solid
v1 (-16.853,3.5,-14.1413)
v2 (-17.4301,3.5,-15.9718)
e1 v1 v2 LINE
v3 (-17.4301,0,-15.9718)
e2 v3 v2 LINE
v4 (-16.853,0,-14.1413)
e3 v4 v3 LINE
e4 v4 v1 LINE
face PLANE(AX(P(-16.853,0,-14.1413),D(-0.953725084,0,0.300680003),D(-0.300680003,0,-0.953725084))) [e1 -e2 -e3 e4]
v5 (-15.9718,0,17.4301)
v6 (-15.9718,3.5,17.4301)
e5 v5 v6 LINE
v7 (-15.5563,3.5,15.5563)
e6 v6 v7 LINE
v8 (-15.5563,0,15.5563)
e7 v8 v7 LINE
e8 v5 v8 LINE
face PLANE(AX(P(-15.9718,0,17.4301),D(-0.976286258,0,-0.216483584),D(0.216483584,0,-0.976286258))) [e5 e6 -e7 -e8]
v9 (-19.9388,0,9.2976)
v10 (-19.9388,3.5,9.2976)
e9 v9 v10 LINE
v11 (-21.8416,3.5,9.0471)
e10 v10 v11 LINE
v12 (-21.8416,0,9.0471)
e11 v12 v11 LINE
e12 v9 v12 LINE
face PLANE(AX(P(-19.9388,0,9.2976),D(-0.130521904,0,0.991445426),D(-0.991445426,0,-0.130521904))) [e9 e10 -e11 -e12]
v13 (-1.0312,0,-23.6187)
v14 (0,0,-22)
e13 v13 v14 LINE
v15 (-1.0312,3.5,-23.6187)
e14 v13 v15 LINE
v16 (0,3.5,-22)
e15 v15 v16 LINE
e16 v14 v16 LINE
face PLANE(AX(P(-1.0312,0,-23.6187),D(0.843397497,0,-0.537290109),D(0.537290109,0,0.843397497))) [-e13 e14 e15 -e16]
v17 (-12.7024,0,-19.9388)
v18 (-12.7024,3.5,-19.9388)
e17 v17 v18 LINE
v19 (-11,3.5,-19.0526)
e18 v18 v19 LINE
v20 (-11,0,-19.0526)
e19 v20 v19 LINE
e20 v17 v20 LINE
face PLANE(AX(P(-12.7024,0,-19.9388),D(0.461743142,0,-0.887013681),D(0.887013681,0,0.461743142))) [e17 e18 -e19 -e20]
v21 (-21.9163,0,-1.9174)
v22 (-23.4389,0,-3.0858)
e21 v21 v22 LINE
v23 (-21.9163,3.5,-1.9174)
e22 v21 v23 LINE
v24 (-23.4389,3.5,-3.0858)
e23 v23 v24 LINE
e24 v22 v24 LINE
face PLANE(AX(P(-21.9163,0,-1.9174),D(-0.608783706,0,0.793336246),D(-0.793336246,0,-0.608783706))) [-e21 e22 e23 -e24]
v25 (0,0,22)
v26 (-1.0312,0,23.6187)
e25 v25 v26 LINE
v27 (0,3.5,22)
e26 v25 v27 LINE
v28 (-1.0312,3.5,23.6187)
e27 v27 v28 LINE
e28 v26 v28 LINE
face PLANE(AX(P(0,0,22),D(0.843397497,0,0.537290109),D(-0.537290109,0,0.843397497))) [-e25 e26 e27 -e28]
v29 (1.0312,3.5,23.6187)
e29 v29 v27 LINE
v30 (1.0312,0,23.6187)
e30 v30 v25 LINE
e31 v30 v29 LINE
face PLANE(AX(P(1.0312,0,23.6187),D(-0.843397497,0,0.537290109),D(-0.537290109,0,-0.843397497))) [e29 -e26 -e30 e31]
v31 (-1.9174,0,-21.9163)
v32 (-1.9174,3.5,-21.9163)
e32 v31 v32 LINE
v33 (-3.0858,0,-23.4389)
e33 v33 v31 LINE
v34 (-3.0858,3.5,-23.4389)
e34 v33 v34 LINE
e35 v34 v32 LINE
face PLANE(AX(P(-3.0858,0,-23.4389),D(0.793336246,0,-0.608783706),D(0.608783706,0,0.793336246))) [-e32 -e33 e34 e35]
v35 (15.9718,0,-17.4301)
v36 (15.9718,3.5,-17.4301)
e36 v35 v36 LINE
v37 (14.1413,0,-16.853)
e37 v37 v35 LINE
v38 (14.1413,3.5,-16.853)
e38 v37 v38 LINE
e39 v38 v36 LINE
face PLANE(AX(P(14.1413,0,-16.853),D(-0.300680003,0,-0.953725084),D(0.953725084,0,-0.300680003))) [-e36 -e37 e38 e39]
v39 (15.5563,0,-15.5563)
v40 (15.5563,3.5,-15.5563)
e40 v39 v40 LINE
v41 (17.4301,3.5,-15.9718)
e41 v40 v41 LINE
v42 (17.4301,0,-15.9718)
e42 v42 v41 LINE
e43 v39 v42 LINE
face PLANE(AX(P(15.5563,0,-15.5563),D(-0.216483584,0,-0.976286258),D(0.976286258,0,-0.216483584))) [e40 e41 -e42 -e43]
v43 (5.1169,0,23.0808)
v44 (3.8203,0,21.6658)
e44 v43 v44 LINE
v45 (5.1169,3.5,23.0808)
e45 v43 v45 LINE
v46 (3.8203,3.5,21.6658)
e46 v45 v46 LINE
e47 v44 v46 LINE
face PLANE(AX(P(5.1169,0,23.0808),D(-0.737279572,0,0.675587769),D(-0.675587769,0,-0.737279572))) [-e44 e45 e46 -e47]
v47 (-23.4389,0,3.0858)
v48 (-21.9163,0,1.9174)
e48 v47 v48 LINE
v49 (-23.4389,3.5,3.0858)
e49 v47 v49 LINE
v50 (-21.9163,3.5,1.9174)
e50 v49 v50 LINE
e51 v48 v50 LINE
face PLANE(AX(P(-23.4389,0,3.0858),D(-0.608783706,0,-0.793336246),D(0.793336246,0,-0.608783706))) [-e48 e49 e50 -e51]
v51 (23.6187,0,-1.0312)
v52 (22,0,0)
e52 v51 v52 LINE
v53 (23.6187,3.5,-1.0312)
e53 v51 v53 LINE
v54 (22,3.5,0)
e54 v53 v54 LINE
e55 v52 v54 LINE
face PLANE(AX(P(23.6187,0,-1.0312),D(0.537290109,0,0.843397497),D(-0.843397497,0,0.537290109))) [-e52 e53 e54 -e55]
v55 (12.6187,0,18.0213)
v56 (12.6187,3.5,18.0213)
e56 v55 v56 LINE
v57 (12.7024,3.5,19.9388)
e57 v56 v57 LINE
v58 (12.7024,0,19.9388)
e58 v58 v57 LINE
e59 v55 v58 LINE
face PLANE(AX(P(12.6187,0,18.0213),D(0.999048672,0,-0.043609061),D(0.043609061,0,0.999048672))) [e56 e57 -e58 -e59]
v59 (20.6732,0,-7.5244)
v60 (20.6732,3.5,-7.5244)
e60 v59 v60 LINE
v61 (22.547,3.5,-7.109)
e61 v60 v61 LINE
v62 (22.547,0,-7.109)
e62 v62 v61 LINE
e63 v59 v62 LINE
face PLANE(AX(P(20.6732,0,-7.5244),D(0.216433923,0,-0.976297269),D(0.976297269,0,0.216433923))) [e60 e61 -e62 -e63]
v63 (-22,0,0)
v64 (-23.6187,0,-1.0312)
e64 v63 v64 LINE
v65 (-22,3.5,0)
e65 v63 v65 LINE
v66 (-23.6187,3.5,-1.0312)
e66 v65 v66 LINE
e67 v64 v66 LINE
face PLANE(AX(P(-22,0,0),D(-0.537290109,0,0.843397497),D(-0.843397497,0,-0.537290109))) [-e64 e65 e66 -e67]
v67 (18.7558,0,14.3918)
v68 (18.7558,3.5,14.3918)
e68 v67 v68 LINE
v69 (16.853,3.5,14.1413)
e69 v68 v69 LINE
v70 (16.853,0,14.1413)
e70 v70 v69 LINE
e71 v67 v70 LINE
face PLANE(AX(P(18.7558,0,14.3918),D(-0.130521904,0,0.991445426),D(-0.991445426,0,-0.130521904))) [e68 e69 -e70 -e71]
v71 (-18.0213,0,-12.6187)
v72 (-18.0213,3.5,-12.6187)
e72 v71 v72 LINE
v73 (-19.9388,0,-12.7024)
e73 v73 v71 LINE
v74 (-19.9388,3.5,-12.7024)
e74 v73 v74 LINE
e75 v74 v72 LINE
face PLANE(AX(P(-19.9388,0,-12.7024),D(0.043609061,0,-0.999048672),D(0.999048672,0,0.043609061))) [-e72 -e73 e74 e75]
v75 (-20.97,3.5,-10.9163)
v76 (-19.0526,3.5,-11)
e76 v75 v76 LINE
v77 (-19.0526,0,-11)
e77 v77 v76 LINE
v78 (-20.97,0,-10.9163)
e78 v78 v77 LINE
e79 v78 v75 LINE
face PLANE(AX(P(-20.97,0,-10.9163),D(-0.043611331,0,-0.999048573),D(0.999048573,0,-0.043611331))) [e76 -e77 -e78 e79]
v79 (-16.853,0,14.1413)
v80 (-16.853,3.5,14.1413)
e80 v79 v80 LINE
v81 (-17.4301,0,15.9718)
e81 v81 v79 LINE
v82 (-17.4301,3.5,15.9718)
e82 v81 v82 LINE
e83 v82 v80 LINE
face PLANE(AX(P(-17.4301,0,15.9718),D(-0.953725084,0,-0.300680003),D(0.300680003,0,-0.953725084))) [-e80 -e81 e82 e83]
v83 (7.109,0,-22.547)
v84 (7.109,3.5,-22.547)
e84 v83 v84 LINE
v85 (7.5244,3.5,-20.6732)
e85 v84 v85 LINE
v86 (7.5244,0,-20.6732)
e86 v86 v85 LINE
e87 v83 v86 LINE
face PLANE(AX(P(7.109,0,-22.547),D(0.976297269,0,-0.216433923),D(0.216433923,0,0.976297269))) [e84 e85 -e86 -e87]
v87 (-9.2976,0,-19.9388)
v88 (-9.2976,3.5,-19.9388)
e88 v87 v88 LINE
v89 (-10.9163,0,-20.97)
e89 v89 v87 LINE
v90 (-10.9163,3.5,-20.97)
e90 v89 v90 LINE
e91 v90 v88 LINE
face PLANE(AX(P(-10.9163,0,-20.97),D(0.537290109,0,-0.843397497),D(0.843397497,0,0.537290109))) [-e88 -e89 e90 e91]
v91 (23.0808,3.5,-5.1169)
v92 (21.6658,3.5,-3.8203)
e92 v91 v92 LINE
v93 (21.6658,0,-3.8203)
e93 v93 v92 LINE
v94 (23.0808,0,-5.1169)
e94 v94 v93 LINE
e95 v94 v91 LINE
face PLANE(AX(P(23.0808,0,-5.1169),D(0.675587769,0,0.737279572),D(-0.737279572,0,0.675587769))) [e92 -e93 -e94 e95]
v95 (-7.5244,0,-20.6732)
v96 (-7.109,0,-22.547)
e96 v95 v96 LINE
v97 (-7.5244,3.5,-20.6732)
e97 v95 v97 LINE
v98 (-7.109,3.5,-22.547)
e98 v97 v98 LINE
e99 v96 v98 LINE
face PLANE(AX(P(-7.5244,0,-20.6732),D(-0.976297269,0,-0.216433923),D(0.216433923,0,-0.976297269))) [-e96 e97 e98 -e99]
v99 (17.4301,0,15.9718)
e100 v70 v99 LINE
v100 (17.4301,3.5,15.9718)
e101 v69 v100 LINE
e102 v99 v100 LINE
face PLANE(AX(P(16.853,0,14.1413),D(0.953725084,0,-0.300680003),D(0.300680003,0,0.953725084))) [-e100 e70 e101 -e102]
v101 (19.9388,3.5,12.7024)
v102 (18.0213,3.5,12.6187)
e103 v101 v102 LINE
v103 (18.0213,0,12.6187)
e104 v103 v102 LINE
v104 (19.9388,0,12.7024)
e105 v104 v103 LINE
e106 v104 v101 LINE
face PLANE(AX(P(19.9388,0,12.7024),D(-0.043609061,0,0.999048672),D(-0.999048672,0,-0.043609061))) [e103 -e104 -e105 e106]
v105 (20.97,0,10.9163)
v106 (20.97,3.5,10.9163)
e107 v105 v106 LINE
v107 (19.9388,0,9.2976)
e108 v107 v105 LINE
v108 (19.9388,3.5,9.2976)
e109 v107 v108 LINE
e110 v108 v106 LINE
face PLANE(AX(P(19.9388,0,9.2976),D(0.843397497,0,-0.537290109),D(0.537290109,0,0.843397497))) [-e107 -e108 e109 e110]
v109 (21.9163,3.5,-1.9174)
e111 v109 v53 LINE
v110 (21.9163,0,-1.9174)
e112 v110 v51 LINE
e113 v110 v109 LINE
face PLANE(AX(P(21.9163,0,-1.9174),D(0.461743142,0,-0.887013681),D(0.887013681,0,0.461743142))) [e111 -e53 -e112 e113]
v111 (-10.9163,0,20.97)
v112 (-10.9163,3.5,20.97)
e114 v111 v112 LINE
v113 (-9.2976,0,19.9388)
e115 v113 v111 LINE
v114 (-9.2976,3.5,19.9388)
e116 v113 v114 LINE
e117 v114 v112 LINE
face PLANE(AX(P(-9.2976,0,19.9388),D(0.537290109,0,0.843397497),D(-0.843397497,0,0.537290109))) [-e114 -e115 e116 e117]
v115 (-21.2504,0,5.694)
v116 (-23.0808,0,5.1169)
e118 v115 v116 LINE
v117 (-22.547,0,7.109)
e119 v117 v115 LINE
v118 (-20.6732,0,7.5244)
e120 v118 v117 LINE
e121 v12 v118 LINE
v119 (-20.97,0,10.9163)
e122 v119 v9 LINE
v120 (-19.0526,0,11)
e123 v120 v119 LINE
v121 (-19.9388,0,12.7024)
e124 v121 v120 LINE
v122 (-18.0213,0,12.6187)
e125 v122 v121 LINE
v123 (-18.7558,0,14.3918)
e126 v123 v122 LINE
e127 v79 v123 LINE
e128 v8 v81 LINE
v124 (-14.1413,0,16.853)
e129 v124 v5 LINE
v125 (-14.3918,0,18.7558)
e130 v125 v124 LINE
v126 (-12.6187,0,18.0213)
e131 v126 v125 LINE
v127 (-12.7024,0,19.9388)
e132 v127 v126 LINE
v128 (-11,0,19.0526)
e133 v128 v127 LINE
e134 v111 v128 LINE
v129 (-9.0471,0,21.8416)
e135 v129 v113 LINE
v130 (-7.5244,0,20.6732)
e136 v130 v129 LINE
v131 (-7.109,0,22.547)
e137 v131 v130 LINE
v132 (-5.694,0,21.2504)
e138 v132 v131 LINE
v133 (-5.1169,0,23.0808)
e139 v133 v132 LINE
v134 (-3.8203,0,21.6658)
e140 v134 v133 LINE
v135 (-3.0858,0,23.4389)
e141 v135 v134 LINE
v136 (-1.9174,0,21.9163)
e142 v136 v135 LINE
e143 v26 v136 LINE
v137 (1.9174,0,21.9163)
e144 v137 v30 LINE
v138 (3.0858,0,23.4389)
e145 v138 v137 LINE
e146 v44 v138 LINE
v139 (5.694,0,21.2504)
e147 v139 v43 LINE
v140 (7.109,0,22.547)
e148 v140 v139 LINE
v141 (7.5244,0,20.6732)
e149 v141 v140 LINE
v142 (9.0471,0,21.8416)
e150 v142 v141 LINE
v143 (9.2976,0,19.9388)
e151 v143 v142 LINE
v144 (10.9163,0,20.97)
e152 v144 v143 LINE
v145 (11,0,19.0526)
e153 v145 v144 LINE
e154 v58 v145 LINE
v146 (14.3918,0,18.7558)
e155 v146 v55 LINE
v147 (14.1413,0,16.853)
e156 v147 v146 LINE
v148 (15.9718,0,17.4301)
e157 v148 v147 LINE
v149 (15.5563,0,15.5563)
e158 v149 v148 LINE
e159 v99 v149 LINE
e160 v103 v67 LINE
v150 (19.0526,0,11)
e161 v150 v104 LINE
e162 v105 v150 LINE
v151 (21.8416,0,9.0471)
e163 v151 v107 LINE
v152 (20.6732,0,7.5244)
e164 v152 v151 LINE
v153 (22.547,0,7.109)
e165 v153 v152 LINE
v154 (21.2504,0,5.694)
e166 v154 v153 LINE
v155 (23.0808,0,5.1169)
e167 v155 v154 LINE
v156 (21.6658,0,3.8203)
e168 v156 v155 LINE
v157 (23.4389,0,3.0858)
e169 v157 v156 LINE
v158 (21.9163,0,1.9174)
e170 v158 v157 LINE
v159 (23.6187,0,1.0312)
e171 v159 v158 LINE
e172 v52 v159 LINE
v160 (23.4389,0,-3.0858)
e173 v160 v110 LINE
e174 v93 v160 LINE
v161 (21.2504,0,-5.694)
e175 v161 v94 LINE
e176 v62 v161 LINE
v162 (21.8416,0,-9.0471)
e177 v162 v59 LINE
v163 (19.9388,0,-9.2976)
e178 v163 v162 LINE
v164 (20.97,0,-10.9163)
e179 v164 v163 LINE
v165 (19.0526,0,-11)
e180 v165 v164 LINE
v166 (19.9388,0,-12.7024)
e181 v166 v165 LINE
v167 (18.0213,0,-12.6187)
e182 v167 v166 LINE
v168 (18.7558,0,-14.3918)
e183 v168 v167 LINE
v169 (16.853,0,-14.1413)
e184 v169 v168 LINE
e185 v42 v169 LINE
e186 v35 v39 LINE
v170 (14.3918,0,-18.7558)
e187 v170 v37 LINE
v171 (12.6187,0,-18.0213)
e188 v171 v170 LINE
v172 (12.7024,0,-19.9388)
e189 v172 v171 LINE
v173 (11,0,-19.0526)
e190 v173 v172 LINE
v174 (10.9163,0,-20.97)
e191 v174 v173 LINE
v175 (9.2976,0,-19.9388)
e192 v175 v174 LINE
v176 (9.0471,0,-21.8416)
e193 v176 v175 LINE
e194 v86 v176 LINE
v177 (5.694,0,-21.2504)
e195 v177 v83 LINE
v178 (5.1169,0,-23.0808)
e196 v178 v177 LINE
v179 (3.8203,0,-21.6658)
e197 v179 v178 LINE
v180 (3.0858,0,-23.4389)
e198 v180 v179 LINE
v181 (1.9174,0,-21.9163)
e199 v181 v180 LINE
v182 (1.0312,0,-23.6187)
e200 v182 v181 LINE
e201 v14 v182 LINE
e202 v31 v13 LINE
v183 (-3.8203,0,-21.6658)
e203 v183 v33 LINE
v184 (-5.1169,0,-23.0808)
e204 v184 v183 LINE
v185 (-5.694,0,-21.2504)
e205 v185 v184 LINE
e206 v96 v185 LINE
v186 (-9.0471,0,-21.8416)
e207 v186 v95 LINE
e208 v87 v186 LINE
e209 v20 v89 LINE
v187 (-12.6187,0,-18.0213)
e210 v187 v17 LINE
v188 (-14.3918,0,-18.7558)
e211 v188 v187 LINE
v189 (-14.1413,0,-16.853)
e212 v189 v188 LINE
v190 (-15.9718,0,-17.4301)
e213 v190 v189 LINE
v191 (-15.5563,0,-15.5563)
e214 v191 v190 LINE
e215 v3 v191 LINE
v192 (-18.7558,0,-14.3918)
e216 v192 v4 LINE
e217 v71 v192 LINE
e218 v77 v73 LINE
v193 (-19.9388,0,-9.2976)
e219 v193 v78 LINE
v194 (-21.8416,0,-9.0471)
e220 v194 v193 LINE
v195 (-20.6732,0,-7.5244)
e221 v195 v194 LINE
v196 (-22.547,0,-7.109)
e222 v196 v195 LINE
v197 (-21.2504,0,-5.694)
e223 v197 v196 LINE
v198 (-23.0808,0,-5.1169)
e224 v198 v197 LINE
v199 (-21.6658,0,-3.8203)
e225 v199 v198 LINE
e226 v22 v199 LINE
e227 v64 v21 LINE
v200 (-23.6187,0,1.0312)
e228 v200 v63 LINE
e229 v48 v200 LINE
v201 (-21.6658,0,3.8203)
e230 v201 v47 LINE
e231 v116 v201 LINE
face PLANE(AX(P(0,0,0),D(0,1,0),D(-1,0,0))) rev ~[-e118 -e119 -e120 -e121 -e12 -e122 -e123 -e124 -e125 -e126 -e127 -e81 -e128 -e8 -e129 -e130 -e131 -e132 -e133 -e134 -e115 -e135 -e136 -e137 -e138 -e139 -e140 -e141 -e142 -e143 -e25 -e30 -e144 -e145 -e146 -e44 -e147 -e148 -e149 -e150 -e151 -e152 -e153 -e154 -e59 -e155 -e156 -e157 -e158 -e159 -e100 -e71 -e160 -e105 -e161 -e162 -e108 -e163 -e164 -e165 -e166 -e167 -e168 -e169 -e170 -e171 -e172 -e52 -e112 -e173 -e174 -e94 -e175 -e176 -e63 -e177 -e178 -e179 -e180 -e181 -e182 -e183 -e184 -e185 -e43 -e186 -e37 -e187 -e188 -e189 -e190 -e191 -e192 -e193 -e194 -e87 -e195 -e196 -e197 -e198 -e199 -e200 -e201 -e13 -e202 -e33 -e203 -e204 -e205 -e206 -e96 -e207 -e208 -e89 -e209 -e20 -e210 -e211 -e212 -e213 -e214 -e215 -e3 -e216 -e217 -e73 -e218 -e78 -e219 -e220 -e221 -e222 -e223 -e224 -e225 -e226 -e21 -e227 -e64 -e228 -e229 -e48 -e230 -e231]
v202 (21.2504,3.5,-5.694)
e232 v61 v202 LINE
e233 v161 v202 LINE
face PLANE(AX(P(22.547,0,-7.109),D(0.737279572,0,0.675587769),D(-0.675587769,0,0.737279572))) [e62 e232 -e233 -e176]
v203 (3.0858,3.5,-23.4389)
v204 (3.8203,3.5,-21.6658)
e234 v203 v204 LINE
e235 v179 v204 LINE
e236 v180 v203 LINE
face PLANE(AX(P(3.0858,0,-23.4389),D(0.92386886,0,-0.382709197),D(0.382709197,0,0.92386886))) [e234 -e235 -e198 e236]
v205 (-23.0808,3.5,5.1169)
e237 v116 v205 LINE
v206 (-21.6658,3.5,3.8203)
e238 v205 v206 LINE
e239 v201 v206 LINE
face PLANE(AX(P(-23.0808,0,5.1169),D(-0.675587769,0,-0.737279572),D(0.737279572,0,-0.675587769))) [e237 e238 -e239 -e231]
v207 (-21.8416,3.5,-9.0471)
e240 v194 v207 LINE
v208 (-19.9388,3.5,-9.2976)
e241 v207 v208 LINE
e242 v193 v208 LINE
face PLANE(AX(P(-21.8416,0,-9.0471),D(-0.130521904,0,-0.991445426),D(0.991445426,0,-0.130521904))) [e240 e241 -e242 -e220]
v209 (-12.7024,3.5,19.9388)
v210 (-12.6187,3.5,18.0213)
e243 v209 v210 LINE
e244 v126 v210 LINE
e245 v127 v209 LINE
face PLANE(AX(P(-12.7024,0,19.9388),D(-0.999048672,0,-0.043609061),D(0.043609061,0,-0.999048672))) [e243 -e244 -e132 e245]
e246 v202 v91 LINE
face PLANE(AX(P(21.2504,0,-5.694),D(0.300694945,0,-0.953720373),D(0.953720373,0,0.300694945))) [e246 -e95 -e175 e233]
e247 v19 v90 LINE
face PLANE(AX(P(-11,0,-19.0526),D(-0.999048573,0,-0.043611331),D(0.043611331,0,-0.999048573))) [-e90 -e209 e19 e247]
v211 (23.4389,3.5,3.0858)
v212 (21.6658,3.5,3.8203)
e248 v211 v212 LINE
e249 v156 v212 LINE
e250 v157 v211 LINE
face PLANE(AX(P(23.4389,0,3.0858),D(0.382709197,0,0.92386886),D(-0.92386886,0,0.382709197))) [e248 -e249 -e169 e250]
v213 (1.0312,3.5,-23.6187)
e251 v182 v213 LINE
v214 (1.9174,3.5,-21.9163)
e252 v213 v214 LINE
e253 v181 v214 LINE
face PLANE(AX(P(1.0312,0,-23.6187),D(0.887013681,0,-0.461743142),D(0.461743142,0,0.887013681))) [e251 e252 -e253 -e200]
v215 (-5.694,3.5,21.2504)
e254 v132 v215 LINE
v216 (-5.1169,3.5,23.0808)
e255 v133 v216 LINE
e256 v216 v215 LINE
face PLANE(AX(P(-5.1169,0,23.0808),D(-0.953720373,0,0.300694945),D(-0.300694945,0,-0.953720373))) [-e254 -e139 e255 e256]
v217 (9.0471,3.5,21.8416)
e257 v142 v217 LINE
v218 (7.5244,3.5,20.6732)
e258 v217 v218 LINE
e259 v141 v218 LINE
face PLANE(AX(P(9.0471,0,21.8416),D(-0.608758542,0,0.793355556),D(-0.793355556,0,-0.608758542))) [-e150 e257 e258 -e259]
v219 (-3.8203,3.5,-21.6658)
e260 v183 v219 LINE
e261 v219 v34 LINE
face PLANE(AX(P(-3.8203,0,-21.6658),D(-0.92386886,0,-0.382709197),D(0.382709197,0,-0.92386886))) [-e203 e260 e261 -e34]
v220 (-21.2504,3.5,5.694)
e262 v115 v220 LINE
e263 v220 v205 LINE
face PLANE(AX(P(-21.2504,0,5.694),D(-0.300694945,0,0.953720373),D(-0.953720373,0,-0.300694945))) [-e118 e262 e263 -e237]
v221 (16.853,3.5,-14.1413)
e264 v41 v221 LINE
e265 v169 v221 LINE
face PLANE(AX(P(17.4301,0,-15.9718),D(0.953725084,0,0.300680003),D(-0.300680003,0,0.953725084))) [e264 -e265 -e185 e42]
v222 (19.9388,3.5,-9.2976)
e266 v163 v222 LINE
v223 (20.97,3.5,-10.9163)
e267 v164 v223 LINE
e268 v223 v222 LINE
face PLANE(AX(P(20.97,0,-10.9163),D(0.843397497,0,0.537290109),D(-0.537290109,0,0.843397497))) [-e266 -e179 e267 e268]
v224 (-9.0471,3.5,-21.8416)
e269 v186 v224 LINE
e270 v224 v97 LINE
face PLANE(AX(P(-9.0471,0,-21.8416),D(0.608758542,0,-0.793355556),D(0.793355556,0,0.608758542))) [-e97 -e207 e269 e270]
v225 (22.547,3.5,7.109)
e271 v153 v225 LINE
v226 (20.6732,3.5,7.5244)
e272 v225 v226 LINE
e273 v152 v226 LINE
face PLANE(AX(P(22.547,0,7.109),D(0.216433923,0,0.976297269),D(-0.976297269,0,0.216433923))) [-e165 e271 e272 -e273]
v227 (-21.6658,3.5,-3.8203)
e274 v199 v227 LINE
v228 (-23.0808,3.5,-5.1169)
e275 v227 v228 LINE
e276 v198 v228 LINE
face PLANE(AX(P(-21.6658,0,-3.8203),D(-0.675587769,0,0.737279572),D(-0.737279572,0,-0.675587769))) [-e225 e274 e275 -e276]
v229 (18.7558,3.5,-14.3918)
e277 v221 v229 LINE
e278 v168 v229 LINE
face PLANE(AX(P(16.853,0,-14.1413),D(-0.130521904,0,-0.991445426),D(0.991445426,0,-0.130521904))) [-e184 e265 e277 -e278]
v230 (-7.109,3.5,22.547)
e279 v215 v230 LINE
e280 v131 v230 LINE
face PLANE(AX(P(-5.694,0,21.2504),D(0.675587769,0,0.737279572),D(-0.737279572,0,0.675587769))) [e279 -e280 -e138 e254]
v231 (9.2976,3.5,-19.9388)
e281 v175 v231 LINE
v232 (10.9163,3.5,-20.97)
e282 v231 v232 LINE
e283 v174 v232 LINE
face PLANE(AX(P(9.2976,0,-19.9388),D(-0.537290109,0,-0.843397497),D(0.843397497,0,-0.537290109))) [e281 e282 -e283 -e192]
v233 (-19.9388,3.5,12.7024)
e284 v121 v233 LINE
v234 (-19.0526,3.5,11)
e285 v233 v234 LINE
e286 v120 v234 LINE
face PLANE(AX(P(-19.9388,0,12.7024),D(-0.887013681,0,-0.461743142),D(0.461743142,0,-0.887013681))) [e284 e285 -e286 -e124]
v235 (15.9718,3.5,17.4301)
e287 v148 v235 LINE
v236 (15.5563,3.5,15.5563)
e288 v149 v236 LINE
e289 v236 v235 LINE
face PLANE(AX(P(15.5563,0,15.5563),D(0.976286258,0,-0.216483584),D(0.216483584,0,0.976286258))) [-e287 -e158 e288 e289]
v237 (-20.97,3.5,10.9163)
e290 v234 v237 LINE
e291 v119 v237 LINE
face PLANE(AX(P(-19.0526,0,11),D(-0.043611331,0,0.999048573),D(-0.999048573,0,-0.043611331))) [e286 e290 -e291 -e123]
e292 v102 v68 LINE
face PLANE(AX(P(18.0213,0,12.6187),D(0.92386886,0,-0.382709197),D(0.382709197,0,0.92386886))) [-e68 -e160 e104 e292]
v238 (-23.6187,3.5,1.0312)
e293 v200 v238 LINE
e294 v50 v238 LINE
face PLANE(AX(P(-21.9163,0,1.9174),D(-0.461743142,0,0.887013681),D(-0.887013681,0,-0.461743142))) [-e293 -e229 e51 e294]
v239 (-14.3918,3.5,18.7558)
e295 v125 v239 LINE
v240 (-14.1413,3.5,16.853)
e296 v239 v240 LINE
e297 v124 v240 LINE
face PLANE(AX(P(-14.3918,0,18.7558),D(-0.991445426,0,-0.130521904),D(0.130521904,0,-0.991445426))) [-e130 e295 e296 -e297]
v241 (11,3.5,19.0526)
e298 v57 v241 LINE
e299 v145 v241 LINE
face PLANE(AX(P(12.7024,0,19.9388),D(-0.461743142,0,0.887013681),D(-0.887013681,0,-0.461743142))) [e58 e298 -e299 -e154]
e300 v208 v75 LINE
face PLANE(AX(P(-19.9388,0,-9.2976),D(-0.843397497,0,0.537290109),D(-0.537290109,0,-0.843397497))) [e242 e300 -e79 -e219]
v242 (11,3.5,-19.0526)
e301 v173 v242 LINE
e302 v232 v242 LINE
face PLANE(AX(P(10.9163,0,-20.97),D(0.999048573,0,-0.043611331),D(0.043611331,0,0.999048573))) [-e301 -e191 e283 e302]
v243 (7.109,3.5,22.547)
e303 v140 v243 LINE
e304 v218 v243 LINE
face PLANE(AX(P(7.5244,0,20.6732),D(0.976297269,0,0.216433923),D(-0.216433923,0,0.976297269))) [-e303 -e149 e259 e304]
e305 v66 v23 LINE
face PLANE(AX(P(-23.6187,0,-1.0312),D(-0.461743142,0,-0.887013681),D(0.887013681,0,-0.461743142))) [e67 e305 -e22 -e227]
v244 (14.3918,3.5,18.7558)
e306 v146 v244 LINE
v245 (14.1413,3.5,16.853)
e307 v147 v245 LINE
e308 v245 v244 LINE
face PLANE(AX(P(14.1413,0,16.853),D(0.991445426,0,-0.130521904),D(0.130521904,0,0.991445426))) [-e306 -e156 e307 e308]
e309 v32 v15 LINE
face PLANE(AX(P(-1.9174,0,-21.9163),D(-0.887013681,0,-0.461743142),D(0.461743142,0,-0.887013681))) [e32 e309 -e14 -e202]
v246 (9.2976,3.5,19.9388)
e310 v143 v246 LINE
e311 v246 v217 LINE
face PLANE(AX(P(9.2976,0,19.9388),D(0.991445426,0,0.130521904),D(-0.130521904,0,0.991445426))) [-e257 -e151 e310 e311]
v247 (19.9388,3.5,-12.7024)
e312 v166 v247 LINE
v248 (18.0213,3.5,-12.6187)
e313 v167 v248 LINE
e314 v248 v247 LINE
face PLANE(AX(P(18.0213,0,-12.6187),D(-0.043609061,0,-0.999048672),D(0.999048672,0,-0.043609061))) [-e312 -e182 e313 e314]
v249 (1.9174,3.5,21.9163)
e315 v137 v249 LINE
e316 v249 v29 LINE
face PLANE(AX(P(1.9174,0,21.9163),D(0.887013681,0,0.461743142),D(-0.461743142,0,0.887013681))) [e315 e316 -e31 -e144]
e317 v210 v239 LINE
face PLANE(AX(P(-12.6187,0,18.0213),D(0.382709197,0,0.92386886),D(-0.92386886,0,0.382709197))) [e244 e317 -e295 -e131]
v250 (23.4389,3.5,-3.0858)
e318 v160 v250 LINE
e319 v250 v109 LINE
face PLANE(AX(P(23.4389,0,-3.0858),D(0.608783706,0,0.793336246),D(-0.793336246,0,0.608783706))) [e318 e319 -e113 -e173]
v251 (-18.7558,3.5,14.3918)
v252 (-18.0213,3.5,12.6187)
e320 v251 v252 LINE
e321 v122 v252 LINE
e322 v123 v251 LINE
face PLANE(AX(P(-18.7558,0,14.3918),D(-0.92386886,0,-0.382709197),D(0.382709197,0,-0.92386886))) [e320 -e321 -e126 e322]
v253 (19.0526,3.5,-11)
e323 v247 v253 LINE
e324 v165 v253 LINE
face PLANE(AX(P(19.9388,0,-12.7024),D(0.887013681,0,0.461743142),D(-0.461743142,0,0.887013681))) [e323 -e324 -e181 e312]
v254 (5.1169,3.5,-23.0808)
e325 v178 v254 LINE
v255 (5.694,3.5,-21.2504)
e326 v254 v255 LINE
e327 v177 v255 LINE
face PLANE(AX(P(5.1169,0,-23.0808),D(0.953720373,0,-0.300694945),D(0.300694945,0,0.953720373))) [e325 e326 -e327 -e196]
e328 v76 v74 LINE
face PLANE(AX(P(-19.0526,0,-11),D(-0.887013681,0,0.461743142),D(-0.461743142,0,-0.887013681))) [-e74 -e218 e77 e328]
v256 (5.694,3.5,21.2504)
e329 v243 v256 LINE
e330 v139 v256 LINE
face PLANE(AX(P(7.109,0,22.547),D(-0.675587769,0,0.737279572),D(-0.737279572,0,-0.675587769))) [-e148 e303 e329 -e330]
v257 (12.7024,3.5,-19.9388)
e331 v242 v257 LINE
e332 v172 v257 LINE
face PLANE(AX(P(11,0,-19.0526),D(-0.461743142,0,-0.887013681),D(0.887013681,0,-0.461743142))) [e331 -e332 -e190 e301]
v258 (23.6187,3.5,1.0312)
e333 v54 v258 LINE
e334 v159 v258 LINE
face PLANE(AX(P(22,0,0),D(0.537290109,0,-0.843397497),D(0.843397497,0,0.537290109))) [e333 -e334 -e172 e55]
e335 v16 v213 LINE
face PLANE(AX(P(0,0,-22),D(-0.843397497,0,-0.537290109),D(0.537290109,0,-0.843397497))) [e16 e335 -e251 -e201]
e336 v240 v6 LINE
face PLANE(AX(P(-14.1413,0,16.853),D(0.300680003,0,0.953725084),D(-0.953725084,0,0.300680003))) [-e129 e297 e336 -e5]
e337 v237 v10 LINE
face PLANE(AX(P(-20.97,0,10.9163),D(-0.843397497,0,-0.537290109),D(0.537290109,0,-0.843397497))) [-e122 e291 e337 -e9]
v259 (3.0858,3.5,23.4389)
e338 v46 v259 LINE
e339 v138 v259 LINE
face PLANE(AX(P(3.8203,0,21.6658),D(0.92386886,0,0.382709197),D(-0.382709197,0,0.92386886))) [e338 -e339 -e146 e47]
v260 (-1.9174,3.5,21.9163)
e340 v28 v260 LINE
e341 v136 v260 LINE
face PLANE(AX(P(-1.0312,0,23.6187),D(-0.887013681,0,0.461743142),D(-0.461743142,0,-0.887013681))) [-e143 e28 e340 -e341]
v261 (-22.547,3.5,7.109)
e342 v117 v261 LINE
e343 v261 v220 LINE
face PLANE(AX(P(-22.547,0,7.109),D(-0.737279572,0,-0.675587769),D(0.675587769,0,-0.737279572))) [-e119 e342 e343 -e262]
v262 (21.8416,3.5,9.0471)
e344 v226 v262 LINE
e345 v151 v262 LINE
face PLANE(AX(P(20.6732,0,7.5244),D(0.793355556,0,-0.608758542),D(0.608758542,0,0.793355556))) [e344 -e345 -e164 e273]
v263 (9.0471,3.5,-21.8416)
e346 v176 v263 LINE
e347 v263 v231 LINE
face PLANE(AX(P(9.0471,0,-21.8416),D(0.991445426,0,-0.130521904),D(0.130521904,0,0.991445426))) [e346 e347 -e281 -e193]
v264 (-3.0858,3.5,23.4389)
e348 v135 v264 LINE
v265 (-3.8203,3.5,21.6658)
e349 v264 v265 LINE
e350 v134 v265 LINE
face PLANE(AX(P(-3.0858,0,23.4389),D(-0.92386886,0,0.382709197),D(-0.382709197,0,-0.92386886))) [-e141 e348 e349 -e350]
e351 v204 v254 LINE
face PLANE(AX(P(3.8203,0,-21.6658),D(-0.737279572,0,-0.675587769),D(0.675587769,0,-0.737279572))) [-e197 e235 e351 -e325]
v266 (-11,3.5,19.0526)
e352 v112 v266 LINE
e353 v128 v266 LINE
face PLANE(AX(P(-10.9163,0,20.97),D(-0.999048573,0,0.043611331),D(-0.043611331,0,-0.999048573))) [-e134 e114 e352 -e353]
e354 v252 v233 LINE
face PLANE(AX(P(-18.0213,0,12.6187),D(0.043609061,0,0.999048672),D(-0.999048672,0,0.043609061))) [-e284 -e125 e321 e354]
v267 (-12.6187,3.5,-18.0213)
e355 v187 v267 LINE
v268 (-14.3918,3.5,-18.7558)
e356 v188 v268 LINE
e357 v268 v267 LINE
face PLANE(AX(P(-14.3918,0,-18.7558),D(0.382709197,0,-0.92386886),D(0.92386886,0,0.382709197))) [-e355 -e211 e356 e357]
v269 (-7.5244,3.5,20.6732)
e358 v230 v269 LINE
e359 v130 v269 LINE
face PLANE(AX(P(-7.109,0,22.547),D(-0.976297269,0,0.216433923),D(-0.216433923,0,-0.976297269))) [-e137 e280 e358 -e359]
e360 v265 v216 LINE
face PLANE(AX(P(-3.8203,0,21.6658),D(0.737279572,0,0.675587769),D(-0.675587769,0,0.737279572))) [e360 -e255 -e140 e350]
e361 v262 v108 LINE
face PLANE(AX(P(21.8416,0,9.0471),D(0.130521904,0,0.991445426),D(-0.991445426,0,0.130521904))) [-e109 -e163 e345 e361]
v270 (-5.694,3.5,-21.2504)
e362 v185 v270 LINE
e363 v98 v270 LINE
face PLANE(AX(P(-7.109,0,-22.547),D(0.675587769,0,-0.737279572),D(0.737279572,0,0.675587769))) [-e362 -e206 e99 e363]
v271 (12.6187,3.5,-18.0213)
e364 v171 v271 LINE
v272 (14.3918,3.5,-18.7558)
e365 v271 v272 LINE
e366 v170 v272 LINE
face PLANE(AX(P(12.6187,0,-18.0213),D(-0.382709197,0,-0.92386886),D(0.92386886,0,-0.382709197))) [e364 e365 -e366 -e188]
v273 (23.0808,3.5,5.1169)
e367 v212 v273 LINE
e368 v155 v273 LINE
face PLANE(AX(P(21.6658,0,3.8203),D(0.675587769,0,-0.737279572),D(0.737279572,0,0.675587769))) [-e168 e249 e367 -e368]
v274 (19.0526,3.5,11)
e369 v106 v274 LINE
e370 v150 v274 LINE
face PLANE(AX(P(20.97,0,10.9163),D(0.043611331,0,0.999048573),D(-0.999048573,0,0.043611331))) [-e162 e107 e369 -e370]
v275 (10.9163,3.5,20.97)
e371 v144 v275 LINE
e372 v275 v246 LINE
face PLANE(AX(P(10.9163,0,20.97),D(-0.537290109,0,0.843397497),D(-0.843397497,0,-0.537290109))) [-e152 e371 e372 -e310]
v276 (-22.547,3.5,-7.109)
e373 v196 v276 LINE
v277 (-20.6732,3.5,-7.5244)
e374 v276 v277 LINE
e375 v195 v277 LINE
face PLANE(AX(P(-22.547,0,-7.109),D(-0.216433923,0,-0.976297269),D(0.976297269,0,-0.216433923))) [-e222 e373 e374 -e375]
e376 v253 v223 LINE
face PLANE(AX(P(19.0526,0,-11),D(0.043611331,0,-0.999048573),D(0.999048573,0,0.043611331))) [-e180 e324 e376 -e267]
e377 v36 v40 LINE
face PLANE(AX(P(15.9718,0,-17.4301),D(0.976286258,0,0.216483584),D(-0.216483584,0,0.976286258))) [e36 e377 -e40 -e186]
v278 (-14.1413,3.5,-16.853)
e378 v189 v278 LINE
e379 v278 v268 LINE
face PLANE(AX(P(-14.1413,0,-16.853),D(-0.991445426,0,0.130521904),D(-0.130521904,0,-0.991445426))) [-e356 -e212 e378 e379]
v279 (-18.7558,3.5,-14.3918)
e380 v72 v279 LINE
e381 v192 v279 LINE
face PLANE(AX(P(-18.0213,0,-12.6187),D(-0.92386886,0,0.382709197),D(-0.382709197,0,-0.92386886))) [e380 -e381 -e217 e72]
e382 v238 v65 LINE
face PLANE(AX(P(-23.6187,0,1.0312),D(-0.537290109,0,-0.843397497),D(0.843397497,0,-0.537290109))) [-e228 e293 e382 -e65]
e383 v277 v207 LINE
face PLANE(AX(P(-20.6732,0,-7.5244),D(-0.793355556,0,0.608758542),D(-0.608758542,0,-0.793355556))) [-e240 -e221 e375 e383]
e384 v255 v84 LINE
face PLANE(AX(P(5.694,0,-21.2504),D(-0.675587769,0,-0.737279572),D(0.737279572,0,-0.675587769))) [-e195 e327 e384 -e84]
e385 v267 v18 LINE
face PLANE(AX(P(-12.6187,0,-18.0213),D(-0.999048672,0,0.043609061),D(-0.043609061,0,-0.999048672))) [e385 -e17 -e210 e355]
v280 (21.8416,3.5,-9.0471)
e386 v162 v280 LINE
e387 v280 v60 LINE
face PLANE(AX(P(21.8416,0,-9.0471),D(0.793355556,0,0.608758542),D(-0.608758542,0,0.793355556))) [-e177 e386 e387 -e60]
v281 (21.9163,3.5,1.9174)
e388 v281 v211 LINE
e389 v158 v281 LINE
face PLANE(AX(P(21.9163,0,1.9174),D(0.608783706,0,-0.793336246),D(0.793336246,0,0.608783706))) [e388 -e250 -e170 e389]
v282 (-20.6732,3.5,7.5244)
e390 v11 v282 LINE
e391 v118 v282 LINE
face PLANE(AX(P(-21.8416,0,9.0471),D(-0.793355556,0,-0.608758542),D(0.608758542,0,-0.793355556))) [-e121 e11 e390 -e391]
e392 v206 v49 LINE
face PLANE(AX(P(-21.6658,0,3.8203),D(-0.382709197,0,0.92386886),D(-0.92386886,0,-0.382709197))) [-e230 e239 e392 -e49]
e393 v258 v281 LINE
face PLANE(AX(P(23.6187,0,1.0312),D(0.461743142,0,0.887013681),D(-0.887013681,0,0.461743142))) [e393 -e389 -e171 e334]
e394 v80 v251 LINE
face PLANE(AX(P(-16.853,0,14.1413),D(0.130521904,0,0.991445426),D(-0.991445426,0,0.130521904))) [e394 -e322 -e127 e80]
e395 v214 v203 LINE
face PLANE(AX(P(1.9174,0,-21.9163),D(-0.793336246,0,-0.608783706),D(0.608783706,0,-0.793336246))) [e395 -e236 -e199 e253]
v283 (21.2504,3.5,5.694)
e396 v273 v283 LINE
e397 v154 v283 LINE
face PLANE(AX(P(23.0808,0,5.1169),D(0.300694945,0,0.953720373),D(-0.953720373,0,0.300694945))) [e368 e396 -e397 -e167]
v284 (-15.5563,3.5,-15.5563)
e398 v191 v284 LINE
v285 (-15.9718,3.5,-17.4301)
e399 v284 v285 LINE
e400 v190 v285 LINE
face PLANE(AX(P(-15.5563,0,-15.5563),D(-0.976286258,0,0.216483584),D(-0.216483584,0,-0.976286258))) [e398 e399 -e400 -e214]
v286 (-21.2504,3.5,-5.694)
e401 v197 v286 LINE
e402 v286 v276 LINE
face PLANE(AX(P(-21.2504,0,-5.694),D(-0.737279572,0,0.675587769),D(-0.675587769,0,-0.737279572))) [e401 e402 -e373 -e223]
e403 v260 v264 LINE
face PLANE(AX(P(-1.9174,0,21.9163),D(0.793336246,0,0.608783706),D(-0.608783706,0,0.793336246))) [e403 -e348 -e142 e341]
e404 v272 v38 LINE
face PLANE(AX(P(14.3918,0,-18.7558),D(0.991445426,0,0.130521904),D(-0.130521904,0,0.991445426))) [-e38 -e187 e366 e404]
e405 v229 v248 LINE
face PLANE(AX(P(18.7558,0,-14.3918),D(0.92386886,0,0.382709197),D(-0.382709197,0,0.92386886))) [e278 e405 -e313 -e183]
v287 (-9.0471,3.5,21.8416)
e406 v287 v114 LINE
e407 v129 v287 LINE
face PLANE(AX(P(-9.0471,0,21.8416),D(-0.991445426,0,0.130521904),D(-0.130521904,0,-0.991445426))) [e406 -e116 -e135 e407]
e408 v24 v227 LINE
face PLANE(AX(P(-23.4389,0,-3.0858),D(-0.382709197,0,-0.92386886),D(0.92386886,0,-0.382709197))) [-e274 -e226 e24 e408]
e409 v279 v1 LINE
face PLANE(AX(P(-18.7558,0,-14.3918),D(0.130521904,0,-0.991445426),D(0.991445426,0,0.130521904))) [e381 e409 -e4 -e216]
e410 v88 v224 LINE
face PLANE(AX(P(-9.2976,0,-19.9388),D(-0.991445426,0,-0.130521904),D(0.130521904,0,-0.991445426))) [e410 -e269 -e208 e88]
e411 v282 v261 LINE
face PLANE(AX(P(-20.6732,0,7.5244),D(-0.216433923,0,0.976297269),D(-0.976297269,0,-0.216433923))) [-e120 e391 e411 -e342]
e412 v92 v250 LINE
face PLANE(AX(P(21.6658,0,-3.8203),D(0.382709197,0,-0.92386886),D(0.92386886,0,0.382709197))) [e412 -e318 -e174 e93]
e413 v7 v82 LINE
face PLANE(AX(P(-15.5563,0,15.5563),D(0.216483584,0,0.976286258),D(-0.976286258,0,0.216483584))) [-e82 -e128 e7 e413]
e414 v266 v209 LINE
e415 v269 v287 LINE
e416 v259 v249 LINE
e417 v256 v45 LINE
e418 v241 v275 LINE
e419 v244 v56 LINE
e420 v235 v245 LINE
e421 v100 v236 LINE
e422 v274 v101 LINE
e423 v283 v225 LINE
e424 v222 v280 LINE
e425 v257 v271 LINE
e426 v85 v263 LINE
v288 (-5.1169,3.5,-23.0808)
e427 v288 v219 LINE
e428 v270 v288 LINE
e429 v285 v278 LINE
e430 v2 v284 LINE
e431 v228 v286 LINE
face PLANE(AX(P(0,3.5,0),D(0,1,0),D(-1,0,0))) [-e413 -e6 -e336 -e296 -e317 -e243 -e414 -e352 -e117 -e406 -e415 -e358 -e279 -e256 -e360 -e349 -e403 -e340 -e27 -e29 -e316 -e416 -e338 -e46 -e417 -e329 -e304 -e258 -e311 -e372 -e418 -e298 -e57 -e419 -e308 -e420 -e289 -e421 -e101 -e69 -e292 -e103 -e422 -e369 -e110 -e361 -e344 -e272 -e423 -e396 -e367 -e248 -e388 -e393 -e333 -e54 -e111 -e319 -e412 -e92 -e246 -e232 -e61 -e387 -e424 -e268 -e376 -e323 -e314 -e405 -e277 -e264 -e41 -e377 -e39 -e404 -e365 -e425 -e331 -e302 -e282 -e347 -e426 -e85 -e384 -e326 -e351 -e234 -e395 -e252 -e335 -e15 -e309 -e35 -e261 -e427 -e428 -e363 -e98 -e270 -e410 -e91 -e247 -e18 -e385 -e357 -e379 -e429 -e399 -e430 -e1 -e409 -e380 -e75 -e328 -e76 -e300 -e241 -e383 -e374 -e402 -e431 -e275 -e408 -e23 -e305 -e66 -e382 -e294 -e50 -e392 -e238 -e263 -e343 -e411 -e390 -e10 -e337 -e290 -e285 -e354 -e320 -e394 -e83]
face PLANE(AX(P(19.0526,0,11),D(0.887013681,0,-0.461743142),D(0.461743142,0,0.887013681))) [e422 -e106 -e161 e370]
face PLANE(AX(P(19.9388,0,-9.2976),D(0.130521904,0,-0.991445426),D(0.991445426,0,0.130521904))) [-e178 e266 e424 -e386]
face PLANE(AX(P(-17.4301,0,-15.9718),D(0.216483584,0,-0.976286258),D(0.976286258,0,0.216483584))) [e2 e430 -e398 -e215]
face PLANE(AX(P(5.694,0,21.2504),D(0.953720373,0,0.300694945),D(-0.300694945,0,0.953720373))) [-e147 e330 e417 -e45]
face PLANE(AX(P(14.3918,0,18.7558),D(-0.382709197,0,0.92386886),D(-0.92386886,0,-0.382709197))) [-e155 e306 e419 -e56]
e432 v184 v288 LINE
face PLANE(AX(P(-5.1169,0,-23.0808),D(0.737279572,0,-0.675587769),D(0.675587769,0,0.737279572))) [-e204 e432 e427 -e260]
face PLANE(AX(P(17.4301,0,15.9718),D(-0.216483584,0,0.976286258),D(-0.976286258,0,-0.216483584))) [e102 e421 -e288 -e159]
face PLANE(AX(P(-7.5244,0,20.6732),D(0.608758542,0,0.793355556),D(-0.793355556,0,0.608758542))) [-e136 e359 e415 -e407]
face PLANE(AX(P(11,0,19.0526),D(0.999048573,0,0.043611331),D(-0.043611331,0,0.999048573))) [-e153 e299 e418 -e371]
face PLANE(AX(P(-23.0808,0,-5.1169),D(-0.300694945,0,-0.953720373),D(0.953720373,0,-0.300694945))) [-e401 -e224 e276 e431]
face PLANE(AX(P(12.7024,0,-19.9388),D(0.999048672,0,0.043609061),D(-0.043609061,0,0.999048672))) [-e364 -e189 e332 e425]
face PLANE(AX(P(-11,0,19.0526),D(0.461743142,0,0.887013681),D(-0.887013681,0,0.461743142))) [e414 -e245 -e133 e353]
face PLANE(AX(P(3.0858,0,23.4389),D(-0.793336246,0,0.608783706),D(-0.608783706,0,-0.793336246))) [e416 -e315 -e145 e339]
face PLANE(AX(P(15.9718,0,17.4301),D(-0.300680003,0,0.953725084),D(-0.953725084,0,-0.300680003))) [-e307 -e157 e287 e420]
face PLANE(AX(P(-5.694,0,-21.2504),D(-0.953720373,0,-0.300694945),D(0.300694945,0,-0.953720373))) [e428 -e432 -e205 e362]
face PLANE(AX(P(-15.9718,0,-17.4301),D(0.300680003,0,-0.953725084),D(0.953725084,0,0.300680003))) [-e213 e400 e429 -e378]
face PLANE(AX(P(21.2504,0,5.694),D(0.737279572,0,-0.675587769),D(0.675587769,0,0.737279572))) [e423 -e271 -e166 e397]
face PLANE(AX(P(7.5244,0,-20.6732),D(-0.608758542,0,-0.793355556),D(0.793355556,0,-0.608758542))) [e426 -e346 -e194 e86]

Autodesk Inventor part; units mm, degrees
ref_plane "YZ Plane" through (0, 0, 0) normal (1, 0, 0) x (0, 1, 0)
ref_plane "XZ Plane" through (0, 0, 0) normal (0, 1, 0) x (-1, 0, 0)
ref_plane "XY Plane" through (0, 0, 0) normal (0, 0, 1) x (1, 0, 0)
sketch "Sketch1" plane through (0, 0, 0) normal (0, 1, 0) x (-1, 0, 0)
  circle A0 centre (0, 0) radius 22 construction
  line L0 (0, 0) -> (0, -22) construction
  line L1 (0, 0) -> (1.9174, -21.9163) construction
  line L2 (0, 0) -> (22, 0) construction
  line L3 (1.9174, -21.9163) -> (0, -22) construction
  line L4 (0, -22) -> (1.9174, -21.9163) construction
  line L5 (1.9174, -21.9163) -> (1.0312, -23.6187)
  line L6 (1.0312, -23.6187) -> (0, -22)
  line L7 (3.8203, -21.6658) -> (3.0858, -23.4389)
  line L8 (3.0858, -23.4389) -> (1.9174, -21.9163)
  line L9 (5.694, -21.2504) -> (5.1169, -23.0808)
  line L10 (5.1169, -23.0808) -> (3.8203, -21.6658)
  line L11 (7.5244, -20.6732) -> (7.109, -22.547)
  line L12 (7.109, -22.547) -> (5.694, -21.2504)
  line L13 (9.2976, -19.9388) -> (9.0471, -21.8416)
  line L14 (9.0471, -21.8416) -> (7.5244, -20.6732)
  line L15 (11, -19.0526) -> (10.9163, -20.97)
  line L16 (10.9163, -20.97) -> (9.2976, -19.9388)
  line L17 (12.6187, -18.0213) -> (12.7024, -19.9388)
  line L18 (12.7024, -19.9388) -> (11, -19.0526)
  line L19 (14.1413, -16.853) -> (14.3918, -18.7558)
  line L20 (14.3918, -18.7558) -> (12.6187, -18.0213)
  line L21 (15.5563, -15.5563) -> (15.9718, -17.4301)
  line L22 (15.9718, -17.4301) -> (14.1413, -16.853)
  line L23 (16.853, -14.1413) -> (17.4301, -15.9718)
  line L24 (17.4301, -15.9718) -> (15.5563, -15.5563)
  line L25 (18.0213, -12.6187) -> (18.7558, -14.3918)
  line L26 (18.7558, -14.3918) -> (16.853, -14.1413)
  line L27 (19.0526, -11) -> (19.9388, -12.7024)
  line L28 (19.9388, -12.7024) -> (18.0213, -12.6187)
  line L29 (19.9388, -9.2976) -> (20.97, -10.9163)
  line L30 (20.97, -10.9163) -> (19.0526, -11)
  line L31 (20.6732, -7.5244) -> (21.8416, -9.0471)
  line L32 (21.8416, -9.0471) -> (19.9388, -9.2976)
  line L33 (21.2504, -5.694) -> (22.547, -7.109)
  line L34 (22.547, -7.109) -> (20.6732, -7.5244)
  line L35 (21.6658, -3.8203) -> (23.0808, -5.1169)
  line L36 (23.0808, -5.1169) -> (21.2504, -5.694)
  line L37 (21.9163, -1.9174) -> (23.4389, -3.0858)
  line L38 (23.4389, -3.0858) -> (21.6658, -3.8203)
  line L39 (22, 0) -> (23.6187, -1.0312)
  line L40 (23.6187, -1.0312) -> (21.9163, -1.9174)
  line L41 (21.9163, 1.9174) -> (23.6187, 1.0312)
  line L42 (23.6187, 1.0312) -> (22, 0)
  line L43 (21.6658, 3.8203) -> (23.4389, 3.0858)
  line L44 (23.4389, 3.0858) -> (21.9163, 1.9174)
  line L45 (21.2504, 5.694) -> (23.0808, 5.1169)
  line L46 (23.0808, 5.1169) -> (21.6658, 3.8203)
  line L47 (20.6732, 7.5244) -> (22.547, 7.109)
  line L48 (22.547, 7.109) -> (21.2504, 5.694)
  line L49 (19.9388, 9.2976) -> (21.8416, 9.0471)
  line L50 (21.8416, 9.0471) -> (20.6732, 7.5244)
  line L51 (19.0526, 11) -> (20.97, 10.9163)
  line L52 (20.97, 10.9163) -> (19.9388, 9.2976)
  line L53 (18.0213, 12.6187) -> (19.9388, 12.7024)
  line L54 (19.9388, 12.7024) -> (19.0526, 11)
  line L55 (16.853, 14.1413) -> (18.7558, 14.3918)
  line L56 (18.7558, 14.3918) -> (18.0213, 12.6187)
  line L57 (15.5563, 15.5563) -> (17.4301, 15.9718)
  line L58 (17.4301, 15.9718) -> (16.853, 14.1413)
  line L59 (14.1413, 16.853) -> (15.9718, 17.4301)
  line L60 (15.9718, 17.4301) -> (15.5563, 15.5563)
  line L61 (12.6187, 18.0213) -> (14.3918, 18.7558)
  line L62 (14.3918, 18.7558) -> (14.1413, 16.853)
  line L63 (11, 19.0526) -> (12.7024, 19.9388)
  line L64 (12.7024, 19.9388) -> (12.6187, 18.0213)
  line L65 (9.2976, 19.9388) -> (10.9163, 20.97)
  line L66 (10.9163, 20.97) -> (11, 19.0526)
  line L67 (7.5244, 20.6732) -> (9.0471, 21.8416)
  line L68 (9.0471, 21.8416) -> (9.2976, 19.9388)
  line L69 (5.694, 21.2504) -> (7.109, 22.547)
  line L70 (7.109, 22.547) -> (7.5244, 20.6732)
  line L71 (3.8203, 21.6658) -> (5.1169, 23.0808)
  line L72 (5.1169, 23.0808) -> (5.694, 21.2504)
  line L73 (1.9174, 21.9163) -> (3.0858, 23.4389)
  line L74 (3.0858, 23.4389) -> (3.8203, 21.6658)
  line L75 (0, 22) -> (1.0312, 23.6187)
  line L76 (1.0312, 23.6187) -> (1.9174, 21.9163)
  line L77 (-1.9174, 21.9163) -> (-1.0312, 23.6187)
  line L78 (-1.0312, 23.6187) -> (0, 22)
  line L79 (-3.8203, 21.6658) -> (-3.0858, 23.4389)
  line L80 (-3.0858, 23.4389) -> (-1.9174, 21.9163)
  line L81 (-5.694, 21.2504) -> (-5.1169, 23.0808)
  line L82 (-5.1169, 23.0808) -> (-3.8203, 21.6658)
  line L83 (-7.5244, 20.6732) -> (-7.109, 22.547)
  line L84 (-7.109, 22.547) -> (-5.694, 21.2504)
  line L85 (-9.2976, 19.9388) -> (-9.0471, 21.8416)
  line L86 (-9.0471, 21.8416) -> (-7.5244, 20.6732)
  line L87 (-11, 19.0526) -> (-10.9163, 20.97)
  line L88 (-10.9163, 20.97) -> (-9.2976, 19.9388)
  line L89 (-12.6187, 18.0213) -> (-12.7024, 19.9388)
  line L90 (-12.7024, 19.9388) -> (-11, 19.0526)
  line L91 (-14.1413, 16.853) -> (-14.3918, 18.7558)
  line L92 (-14.3918, 18.7558) -> (-12.6187, 18.0213)
  line L93 (-15.5563, 15.5563) -> (-15.9718, 17.4301)
  line L94 (-15.9718, 17.4301) -> (-14.1413, 16.853)
  line L95 (-16.853, 14.1413) -> (-17.4301, 15.9718)
  line L96 (-17.4301, 15.9718) -> (-15.5563, 15.5563)
  line L97 (-18.0213, 12.6187) -> (-18.7558, 14.3918)
  line L98 (-18.7558, 14.3918) -> (-16.853, 14.1413)
  line L99 (-19.0526, 11) -> (-19.9388, 12.7024)
  line L100 (-19.9388, 12.7024) -> (-18.0213, 12.6187)
  line L101 (-19.9388, 9.2976) -> (-20.97, 10.9163)
  line L102 (-20.97, 10.9163) -> (-19.0526, 11)
  line L103 (-20.6732, 7.5244) -> (-21.8416, 9.0471)
  line L104 (-21.8416, 9.0471) -> (-19.9388, 9.2976)
  line L105 (-21.2504, 5.694) -> (-22.547, 7.109)
  line L106 (-22.547, 7.109) -> (-20.6732, 7.5244)
  line L107 (-21.6658, 3.8203) -> (-23.0808, 5.1169)
  line L108 (-23.0808, 5.1169) -> (-21.2504, 5.694)
  line L109 (-21.9163, 1.9174) -> (-23.4389, 3.0858)
  line L110 (-23.4389, 3.0858) -> (-21.6658, 3.8203)
  line L111 (-22, 0) -> (-23.6187, 1.0312)
  line L112 (-23.6187, 1.0312) -> (-21.9163, 1.9174)
  line L113 (-21.9163, -1.9174) -> (-23.6187, -1.0312)
  line L114 (-23.6187, -1.0312) -> (-22, 0)
  line L115 (-21.6658, -3.8203) -> (-23.4389, -3.0858)
  line L116 (-23.4389, -3.0858) -> (-21.9163, -1.9174)
  line L117 (-21.2504, -5.694) -> (-23.0808, -5.1169)
  line L118 (-23.0808, -5.1169) -> (-21.6658, -3.8203)
  line L119 (-20.6732, -7.5244) -> (-22.547, -7.109)
  line L120 (-22.547, -7.109) -> (-21.2504, -5.694)
  line L121 (-19.9388, -9.2976) -> (-21.8416, -9.0471)
  line L122 (-21.8416, -9.0471) -> (-20.6732, -7.5244)
  line L123 (-19.0526, -11) -> (-20.97, -10.9163)
  line L124 (-20.97, -10.9163) -> (-19.9388, -9.2976)
  line L125 (-18.0213, -12.6187) -> (-19.9388, -12.7024)
  line L126 (-19.9388, -12.7024) -> (-19.0526, -11)
  line L127 (-16.853, -14.1413) -> (-18.7558, -14.3918)
  line L128 (-18.7558, -14.3918) -> (-18.0213, -12.6187)
  line L129 (-15.5563, -15.5563) -> (-17.4301, -15.9718)
  line L130 (-17.4301, -15.9718) -> (-16.853, -14.1413)
  line L131 (-14.1413, -16.853) -> (-15.9718, -17.4301)
  line L132 (-15.9718, -17.4301) -> (-15.5563, -15.5563)
  line L133 (-12.6187, -18.0213) -> (-14.3918, -18.7558)
  line L134 (-14.3918, -18.7558) -> (-14.1413, -16.853)
  line L135 (-11, -19.0526) -> (-12.7024, -19.9388)
  line L136 (-12.7024, -19.9388) -> (-12.6187, -18.0213)
  line L137 (-9.2976, -19.9388) -> (-10.9163, -20.97)
  line L138 (-10.9163, -20.97) -> (-11, -19.0526)
  line L139 (-7.5244, -20.6732) -> (-9.0471, -21.8416)
  line L140 (-9.0471, -21.8416) -> (-9.2976, -19.9388)
  line L141 (-5.694, -21.2504) -> (-7.109, -22.547)
  line L142 (-7.109, -22.547) -> (-7.5244, -20.6732)
  line L143 (-3.8203, -21.6658) -> (-5.1169, -23.0808)
  line L144 (-5.1169, -23.0808) -> (-5.694, -21.2504)
  line L145 (-1.9174, -21.9163) -> (-3.0858, -23.4389)
  line L146 (-3.0858, -23.4389) -> (-3.8203, -21.6658)
  line L147 (0, -22) -> (-1.0312, -23.6187)
  line L148 (-1.0312, -23.6187) -> (-1.9174, -21.9163)
  point P0 (0.9829, -22.5117)
  dimension "d0" = 44
  dimension "d1" = 22
  dimension "d2" = 85
  dimension "d5" = 360
extrude "Extrusion1" add sketch "Sketch1" along normal blind 3.5
sketch "Sketch2" plane through (0, 3.5, 0) normal (0, 1, 0) x (1, 0, 0)
  circle A0 centre (0, 0) radius 19.8
  dimension "d9" = 39.6
equation "\"d9\" = 0.9 * d0"
properties part number "ChocolateCoin"
